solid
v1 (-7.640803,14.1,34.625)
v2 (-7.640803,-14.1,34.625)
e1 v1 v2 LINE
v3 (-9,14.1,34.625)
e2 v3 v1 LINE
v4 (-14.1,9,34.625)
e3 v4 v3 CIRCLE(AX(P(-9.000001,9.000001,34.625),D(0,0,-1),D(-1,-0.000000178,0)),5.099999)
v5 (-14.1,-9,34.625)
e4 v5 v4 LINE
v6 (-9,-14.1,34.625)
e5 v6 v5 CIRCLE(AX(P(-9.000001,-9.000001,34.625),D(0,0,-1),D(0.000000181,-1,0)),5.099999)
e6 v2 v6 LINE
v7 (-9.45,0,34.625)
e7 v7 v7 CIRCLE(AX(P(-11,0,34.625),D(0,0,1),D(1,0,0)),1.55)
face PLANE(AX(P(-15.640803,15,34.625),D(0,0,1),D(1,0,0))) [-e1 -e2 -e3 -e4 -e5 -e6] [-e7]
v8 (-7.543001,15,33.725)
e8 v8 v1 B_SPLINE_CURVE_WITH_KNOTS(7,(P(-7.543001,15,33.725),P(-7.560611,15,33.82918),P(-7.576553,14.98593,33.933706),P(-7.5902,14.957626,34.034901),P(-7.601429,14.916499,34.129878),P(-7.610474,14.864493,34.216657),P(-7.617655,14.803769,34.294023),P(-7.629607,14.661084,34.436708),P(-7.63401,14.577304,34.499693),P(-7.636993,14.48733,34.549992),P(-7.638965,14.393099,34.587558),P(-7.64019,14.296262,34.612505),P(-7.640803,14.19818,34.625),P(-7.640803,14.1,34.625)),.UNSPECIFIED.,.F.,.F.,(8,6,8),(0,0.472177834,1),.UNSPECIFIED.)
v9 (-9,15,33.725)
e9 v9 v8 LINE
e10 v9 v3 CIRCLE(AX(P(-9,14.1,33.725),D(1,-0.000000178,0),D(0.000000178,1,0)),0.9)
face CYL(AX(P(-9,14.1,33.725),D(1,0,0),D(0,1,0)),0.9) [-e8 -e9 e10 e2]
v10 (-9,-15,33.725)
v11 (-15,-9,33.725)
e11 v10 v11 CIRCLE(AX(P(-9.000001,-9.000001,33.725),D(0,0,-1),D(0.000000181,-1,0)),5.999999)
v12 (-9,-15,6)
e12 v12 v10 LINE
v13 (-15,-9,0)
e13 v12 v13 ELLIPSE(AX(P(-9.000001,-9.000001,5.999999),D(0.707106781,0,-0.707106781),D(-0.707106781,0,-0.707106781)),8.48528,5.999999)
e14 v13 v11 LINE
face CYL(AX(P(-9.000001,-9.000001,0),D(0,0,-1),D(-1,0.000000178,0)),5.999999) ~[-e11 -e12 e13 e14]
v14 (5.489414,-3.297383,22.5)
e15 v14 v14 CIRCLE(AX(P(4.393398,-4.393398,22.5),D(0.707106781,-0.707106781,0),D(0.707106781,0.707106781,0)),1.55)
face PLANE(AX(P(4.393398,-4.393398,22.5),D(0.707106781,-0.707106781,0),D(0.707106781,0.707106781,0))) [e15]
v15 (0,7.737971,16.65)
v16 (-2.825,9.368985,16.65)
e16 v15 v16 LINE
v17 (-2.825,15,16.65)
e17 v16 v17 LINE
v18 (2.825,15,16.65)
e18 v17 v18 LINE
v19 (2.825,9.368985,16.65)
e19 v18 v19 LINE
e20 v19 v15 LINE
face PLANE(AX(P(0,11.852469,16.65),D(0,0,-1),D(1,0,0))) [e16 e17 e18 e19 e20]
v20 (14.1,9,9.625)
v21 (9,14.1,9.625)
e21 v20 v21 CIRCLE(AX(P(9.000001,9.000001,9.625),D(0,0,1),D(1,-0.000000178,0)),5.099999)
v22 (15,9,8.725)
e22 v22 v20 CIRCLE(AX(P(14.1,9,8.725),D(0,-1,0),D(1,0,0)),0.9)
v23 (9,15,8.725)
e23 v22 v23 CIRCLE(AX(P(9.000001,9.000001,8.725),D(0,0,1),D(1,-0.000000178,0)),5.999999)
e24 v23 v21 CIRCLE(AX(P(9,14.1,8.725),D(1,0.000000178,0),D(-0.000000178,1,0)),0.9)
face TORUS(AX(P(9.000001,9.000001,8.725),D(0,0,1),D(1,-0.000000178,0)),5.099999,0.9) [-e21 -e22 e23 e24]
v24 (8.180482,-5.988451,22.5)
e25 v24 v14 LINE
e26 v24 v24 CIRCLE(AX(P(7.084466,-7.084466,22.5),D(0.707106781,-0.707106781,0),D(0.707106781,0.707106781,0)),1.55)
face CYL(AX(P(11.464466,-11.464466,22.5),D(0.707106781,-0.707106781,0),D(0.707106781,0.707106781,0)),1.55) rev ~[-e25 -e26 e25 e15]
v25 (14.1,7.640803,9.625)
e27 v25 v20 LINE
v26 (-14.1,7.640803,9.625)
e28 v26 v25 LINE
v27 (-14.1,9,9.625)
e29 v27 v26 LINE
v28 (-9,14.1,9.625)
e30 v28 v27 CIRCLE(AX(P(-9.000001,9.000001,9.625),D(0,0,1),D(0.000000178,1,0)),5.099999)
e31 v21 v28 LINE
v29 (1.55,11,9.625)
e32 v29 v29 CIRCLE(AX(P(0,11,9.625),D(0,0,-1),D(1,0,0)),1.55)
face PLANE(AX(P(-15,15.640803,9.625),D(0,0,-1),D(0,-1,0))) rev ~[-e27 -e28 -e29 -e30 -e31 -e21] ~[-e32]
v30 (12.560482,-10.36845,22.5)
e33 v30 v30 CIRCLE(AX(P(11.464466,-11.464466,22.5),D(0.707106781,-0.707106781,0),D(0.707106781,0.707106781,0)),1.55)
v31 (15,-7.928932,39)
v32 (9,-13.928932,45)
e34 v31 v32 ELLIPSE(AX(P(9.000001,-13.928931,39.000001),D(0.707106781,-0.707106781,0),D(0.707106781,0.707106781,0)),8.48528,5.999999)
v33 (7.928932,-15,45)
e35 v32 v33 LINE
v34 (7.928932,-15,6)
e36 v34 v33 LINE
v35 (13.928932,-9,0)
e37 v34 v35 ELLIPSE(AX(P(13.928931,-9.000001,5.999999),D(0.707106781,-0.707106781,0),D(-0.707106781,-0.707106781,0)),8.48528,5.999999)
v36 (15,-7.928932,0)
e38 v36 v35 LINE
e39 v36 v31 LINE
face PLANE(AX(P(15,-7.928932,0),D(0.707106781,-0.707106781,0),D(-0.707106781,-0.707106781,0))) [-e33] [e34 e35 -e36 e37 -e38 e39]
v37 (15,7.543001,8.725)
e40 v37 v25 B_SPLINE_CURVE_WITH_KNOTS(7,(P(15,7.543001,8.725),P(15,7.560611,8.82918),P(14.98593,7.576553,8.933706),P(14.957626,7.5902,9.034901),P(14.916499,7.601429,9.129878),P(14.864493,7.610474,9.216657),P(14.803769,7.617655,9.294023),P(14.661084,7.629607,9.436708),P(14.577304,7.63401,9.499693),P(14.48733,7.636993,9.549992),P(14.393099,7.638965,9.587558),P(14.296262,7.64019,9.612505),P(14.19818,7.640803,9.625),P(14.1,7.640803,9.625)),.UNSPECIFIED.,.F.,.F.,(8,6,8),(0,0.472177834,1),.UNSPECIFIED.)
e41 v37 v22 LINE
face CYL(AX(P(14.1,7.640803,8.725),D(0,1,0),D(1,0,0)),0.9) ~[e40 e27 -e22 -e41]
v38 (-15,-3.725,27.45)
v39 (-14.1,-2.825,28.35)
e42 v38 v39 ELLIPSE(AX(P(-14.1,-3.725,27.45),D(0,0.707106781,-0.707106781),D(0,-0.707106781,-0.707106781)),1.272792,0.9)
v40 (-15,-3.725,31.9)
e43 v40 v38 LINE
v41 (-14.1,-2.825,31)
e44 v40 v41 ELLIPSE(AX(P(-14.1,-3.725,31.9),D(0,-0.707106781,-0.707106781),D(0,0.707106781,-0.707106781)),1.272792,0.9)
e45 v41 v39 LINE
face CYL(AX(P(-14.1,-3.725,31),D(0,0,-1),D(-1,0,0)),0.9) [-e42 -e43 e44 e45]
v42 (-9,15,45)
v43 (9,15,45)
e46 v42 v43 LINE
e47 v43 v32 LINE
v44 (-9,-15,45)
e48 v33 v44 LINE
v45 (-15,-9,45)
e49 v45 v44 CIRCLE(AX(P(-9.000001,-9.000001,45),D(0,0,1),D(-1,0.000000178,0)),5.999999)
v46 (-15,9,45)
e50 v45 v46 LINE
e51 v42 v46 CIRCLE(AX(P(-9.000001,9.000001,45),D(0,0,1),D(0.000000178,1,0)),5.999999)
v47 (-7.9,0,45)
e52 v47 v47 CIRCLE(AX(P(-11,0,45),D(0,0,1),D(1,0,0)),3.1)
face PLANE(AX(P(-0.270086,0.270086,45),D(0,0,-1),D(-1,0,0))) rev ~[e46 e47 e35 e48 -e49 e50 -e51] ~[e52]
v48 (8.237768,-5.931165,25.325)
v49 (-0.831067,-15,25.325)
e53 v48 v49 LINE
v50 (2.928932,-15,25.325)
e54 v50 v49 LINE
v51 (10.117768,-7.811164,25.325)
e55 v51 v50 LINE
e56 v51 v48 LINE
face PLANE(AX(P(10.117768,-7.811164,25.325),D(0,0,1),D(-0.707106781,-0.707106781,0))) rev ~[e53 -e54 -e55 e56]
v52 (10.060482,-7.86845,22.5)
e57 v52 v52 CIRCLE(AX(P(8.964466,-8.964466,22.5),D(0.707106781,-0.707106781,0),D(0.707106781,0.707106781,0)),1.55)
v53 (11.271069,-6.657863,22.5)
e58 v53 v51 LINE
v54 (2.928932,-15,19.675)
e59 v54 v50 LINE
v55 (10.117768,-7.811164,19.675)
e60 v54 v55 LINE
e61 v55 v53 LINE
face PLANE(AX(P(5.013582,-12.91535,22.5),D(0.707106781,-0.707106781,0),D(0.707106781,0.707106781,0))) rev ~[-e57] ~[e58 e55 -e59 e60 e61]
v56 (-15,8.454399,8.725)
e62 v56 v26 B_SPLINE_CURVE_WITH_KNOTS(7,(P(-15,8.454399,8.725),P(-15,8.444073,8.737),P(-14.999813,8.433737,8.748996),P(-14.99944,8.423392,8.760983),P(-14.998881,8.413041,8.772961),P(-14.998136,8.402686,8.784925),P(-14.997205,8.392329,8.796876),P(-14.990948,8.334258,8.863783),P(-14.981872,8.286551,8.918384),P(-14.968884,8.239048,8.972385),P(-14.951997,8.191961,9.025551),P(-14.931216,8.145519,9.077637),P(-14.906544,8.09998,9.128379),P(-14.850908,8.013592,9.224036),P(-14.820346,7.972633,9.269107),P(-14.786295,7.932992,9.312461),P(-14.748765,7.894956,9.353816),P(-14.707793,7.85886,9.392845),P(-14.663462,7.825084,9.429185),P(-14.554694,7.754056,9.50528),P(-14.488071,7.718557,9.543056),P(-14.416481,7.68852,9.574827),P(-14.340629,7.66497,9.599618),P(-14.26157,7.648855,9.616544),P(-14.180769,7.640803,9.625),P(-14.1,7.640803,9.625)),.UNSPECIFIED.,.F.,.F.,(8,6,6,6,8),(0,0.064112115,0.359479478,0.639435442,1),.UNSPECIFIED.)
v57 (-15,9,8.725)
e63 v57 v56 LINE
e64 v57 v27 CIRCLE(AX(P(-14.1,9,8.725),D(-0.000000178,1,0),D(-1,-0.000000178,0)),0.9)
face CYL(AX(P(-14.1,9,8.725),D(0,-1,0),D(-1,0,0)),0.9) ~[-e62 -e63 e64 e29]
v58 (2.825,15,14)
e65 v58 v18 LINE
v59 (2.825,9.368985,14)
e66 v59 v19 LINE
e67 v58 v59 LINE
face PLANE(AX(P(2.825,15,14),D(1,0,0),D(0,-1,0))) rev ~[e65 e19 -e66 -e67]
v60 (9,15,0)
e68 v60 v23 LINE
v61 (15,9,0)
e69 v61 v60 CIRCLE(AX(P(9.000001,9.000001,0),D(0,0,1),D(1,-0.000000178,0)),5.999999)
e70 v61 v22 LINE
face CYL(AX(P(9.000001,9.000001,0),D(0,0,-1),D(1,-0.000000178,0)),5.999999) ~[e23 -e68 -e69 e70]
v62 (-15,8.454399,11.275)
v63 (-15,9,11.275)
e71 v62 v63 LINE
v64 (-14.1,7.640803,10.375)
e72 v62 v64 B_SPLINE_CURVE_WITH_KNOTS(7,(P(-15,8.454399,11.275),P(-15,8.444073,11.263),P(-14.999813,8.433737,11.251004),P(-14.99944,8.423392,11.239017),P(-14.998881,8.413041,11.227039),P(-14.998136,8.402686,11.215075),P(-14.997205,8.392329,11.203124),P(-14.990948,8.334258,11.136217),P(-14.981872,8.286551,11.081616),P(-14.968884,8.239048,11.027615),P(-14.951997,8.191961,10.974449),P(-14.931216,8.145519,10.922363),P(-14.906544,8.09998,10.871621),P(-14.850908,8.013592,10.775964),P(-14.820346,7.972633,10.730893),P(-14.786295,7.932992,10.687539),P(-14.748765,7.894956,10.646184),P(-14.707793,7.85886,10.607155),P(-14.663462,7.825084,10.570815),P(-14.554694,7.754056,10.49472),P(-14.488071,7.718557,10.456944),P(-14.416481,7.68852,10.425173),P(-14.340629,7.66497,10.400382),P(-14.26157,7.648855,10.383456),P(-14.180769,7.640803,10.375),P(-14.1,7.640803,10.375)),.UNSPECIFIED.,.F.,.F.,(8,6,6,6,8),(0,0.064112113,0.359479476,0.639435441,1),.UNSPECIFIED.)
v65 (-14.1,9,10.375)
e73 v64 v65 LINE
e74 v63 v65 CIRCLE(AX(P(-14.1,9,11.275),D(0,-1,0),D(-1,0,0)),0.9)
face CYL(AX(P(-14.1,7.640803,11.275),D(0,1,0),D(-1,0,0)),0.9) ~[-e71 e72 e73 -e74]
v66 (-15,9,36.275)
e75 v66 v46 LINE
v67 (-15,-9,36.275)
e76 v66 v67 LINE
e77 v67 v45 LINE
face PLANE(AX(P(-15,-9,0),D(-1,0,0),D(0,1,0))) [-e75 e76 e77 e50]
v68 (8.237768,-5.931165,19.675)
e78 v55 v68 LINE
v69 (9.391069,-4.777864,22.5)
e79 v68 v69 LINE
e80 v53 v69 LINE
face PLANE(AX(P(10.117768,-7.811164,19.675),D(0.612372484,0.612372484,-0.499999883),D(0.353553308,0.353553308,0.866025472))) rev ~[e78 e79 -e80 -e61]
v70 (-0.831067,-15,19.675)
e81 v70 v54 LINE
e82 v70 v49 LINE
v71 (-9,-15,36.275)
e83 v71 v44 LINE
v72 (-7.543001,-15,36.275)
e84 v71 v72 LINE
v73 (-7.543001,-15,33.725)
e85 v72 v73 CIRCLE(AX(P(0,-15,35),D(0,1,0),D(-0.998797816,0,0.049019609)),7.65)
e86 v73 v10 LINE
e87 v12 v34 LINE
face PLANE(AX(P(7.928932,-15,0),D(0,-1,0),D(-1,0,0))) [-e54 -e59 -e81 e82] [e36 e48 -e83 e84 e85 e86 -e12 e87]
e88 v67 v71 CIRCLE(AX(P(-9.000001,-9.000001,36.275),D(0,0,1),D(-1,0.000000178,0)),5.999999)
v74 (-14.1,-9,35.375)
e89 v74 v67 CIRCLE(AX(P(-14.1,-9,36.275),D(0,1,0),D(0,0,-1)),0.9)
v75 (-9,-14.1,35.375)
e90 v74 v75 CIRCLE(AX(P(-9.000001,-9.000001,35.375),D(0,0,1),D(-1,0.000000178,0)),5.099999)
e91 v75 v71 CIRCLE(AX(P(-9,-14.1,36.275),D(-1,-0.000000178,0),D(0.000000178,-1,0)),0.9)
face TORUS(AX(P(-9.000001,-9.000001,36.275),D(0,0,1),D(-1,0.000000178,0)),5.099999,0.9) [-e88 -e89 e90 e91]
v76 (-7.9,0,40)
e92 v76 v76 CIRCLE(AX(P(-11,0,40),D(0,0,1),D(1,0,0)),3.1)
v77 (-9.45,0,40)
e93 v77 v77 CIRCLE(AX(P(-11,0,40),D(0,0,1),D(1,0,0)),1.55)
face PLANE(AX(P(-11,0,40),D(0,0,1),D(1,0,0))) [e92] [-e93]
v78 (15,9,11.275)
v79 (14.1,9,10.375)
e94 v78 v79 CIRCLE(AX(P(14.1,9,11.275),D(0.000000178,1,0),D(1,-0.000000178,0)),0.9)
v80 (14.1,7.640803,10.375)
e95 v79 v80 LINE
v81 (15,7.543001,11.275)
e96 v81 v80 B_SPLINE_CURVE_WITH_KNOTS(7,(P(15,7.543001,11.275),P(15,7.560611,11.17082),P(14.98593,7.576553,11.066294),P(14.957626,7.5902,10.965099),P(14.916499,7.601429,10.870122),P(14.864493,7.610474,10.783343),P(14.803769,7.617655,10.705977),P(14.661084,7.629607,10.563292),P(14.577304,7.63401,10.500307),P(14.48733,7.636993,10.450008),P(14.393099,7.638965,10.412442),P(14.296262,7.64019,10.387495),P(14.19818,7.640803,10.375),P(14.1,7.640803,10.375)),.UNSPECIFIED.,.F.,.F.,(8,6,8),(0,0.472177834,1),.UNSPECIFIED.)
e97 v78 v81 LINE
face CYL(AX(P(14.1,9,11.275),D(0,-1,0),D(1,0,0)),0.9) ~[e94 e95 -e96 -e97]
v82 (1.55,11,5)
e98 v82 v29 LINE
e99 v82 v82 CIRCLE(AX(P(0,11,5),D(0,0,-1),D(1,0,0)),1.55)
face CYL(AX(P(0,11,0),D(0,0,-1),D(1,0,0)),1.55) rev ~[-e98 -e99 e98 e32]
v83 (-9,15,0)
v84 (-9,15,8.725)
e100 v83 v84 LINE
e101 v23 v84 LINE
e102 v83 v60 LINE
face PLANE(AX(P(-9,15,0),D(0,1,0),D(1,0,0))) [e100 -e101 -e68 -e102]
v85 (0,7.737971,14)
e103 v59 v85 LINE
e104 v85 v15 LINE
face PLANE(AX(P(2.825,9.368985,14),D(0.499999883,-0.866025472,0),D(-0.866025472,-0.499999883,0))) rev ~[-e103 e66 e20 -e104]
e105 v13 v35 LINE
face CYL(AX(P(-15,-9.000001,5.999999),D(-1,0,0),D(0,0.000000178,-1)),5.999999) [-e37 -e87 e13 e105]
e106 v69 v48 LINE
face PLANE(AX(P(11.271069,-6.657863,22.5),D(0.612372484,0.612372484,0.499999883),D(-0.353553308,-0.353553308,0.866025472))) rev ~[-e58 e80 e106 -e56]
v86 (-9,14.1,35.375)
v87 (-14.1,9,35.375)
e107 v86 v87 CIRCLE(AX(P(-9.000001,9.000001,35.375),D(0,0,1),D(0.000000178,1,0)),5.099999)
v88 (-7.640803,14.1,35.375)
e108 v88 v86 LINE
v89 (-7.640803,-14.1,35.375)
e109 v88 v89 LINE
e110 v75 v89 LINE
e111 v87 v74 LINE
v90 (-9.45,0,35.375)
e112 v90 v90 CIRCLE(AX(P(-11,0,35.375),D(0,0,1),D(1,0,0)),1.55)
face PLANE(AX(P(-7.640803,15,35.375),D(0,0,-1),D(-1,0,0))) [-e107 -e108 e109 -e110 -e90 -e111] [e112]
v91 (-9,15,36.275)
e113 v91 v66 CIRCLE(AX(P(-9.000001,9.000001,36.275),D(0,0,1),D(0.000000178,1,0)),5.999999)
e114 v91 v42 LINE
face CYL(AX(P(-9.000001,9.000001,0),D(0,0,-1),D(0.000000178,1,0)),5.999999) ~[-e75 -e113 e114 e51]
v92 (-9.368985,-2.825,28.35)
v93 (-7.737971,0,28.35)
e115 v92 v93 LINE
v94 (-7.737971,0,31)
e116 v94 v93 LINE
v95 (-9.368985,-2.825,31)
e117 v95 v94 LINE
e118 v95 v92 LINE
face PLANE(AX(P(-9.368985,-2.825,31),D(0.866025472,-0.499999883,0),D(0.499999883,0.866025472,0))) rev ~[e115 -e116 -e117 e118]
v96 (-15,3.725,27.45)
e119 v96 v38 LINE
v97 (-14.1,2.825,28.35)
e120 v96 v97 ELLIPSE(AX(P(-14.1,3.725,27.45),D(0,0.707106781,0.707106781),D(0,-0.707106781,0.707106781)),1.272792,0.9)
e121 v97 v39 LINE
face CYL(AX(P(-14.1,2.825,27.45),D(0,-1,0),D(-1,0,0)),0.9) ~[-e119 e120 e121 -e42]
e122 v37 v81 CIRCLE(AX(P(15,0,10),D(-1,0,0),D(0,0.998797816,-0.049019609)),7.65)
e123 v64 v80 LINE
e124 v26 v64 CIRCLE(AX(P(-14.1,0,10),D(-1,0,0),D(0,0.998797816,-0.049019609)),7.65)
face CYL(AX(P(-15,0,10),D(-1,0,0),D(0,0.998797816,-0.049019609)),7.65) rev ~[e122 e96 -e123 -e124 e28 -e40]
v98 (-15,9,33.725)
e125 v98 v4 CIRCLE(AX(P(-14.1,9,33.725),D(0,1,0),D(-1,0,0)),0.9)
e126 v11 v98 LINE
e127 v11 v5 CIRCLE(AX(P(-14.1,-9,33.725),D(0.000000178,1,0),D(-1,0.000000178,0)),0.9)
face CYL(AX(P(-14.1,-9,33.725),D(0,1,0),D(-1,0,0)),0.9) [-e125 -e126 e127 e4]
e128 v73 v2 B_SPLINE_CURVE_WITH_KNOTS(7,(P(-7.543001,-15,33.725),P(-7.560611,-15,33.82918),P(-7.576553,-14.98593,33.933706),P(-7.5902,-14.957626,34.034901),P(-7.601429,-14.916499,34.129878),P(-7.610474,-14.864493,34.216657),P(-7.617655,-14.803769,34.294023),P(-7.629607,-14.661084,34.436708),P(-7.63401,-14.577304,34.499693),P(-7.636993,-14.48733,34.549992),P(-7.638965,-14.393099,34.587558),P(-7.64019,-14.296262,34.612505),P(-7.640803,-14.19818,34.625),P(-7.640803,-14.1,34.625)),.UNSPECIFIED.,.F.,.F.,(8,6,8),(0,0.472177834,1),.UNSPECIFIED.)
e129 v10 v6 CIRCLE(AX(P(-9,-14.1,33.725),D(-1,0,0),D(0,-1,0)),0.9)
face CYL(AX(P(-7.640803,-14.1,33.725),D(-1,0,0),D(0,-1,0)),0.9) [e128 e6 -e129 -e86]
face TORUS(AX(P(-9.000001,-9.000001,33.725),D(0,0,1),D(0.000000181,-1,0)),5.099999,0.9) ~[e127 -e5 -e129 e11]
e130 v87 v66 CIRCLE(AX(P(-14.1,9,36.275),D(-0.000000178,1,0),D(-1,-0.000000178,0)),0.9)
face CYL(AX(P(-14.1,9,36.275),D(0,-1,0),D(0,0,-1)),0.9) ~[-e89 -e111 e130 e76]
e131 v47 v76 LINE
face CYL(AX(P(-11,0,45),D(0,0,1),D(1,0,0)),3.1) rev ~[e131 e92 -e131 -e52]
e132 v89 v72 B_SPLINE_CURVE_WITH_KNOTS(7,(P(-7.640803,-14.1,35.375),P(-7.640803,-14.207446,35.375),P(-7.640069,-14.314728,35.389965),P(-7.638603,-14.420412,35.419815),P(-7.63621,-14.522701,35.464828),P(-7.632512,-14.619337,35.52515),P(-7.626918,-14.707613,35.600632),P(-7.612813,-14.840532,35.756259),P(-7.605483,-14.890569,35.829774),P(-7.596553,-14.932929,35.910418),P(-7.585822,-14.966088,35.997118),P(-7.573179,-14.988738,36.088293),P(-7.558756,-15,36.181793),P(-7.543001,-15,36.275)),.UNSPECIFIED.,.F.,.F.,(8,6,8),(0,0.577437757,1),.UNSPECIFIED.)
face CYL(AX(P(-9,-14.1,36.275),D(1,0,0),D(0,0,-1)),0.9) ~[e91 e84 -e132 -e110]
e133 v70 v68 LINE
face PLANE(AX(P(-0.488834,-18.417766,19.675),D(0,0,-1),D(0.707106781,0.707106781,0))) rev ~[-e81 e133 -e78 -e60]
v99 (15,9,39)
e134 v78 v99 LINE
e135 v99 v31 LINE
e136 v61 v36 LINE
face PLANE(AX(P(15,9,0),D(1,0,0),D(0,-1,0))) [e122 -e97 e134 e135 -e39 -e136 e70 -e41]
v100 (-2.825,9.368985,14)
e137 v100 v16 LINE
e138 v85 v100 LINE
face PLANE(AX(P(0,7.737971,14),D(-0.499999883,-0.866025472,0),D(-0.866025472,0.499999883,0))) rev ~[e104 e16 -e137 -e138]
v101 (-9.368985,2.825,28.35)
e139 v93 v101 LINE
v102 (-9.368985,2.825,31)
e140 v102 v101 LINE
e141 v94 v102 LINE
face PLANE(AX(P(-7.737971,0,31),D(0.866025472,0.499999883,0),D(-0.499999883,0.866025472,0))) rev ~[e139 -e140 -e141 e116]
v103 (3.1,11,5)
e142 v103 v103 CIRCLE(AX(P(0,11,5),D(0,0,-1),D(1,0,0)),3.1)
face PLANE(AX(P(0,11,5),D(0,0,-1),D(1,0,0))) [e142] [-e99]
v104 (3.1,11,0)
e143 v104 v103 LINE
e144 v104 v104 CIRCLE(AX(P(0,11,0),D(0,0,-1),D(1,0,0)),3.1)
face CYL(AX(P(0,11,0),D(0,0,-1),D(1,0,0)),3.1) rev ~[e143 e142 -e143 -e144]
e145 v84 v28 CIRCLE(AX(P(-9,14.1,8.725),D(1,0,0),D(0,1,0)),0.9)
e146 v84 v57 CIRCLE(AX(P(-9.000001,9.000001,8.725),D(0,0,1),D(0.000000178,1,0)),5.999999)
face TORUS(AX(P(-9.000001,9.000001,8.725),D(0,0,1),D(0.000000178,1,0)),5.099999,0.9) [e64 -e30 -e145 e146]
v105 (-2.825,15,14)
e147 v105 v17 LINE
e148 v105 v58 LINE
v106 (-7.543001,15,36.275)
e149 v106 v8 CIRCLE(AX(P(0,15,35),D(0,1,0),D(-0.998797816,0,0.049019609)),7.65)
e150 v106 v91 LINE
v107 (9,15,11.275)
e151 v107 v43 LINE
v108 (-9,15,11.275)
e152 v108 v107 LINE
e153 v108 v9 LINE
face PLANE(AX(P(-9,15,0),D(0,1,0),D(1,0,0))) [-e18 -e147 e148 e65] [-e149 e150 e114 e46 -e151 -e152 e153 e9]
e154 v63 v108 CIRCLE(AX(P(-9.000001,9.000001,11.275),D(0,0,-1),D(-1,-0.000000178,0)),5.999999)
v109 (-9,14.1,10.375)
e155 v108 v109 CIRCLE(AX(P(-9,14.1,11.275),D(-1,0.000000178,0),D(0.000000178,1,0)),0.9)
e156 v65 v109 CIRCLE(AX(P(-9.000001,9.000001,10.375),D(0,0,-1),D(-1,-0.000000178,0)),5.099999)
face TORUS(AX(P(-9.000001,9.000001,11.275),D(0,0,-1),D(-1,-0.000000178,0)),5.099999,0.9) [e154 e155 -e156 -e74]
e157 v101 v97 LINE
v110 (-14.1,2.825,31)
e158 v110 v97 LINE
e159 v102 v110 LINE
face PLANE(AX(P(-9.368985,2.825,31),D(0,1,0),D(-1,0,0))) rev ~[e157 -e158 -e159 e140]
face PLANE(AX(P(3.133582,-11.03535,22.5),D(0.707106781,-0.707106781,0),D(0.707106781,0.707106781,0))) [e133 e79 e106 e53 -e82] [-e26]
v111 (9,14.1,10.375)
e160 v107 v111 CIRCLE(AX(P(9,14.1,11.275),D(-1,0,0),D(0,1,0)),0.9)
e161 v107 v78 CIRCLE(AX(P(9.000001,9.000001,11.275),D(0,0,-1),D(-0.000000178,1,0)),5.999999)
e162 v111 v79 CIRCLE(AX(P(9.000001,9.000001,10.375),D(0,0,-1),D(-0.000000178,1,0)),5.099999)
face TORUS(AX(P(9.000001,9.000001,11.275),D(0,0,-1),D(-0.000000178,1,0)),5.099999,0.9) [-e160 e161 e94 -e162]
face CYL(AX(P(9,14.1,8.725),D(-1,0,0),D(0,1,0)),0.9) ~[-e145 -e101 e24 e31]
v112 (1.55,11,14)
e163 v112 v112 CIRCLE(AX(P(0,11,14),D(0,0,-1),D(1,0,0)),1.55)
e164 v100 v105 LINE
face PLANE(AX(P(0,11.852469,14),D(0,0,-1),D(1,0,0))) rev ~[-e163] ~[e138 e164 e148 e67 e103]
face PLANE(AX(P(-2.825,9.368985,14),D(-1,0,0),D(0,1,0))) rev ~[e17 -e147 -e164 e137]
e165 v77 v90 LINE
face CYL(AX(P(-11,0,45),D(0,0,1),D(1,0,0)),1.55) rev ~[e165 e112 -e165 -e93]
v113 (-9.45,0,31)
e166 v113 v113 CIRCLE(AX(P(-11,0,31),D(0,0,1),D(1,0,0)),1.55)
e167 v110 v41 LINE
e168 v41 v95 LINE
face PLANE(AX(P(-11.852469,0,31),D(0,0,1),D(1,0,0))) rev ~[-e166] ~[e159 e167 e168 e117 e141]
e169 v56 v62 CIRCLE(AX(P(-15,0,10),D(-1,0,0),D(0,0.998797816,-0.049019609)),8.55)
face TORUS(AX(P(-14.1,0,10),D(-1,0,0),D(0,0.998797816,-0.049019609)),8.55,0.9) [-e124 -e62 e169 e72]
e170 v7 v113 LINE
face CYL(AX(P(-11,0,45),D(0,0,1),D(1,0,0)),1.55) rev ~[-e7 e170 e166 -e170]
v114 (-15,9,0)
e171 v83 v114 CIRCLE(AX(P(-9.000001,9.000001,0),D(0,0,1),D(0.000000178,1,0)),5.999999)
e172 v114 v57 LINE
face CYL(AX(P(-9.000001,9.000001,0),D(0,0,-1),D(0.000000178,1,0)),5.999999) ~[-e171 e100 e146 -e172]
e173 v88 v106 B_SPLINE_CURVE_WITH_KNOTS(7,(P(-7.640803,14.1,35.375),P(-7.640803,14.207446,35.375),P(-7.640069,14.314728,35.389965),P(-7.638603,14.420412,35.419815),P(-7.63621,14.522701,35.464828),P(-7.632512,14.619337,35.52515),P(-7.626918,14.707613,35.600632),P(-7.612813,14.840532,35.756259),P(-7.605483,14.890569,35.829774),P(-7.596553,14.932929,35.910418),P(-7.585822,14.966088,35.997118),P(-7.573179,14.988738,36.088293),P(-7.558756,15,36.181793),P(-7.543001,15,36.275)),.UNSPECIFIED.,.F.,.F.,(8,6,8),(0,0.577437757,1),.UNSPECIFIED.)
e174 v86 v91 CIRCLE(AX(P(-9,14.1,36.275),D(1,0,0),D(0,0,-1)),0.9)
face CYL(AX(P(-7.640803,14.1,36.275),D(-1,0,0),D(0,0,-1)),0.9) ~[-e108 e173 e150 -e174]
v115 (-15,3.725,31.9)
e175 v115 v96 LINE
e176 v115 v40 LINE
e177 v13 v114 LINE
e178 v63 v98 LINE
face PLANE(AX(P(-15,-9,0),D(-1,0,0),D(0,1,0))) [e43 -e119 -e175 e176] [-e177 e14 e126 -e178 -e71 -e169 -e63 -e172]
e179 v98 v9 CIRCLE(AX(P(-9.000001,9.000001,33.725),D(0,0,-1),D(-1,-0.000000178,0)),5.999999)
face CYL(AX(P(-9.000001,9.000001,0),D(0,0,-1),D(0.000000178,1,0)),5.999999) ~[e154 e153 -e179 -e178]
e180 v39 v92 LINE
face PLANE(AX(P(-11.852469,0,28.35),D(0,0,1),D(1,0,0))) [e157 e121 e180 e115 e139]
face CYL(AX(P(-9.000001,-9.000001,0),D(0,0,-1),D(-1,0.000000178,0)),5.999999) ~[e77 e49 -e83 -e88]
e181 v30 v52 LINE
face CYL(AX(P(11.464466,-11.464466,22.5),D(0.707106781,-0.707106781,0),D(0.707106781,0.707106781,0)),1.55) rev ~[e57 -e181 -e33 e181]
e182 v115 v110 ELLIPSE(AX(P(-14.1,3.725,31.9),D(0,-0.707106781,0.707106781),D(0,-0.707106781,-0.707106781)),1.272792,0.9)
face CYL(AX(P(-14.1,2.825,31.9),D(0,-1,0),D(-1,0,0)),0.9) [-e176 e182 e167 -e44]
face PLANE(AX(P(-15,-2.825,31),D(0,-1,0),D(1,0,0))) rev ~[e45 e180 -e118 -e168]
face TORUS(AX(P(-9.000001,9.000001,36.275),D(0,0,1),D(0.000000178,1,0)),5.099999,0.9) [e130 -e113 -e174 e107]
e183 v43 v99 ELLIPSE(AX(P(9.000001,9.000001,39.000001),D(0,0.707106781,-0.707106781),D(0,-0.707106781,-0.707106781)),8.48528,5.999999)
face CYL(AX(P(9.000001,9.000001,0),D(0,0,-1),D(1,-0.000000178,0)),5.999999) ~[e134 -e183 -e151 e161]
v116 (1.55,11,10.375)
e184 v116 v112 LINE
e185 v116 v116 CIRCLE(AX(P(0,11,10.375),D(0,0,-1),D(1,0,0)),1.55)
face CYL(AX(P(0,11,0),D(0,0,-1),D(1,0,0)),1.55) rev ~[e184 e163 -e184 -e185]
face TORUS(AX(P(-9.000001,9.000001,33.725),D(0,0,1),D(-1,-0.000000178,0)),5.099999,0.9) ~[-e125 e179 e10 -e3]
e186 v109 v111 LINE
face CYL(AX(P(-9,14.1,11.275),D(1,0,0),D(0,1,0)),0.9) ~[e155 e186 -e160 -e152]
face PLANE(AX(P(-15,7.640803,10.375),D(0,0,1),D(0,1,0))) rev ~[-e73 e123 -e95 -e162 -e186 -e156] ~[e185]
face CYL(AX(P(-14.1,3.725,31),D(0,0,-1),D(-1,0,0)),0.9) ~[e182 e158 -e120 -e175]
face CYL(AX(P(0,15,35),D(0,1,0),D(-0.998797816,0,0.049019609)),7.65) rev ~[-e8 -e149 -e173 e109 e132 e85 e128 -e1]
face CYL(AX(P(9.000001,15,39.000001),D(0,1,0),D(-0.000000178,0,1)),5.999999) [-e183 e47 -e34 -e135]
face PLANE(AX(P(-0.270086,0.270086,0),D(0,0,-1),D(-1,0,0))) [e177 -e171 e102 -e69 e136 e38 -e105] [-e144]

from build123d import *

# Parameters (mm, degrees)
EXTRUDE003_DEPTH                          = 2.658721
EXTRUDE003_ONTO_SKETCH010_ROLL_ANGLE      = 90
EXTRUDE003_ONTO_SKETCH010_PLACEMENT_ANGLE = 45
EXTRUDE002_DEPTH                          = 2.65
EXTRUDE001_DEPTH                          = 2.65
EXTRUDE_DEPTH                             = 45
POCKET_DEPTH                              = 30.001
POCKET001_DEPTH                           = 30.001019
SKETCH003_R                               = 1.55
POCKET002_DEPTH                           = 16
SKETCH005_R                               = 3.1
POCKET003_DEPTH                           = 5
SKETCH006_R                               = 1.55
POCKET004_DEPTH                           = 16
SKETCH008_R                               = 3.1
POCKET005_DEPTH                           = 5
SKETCH009_R                               = 1.55
POCKET006_DEPTH                           = 10
FILLET_R                                  = 0.9


with BuildPart() as extrude003:
    # Sketch010 as drawn → Extrude003 (new)
    with BuildSketch(Plane.XY):
        Polygon((3.262029, 22.5), (1.631015, 25.325), (-13.368985, 25.325), (-13.368985, 19.675), (1.631015, 19.675), align=None)
    extrude(amount=-EXTRUDE003_DEPTH)


with BuildPart() as extrude003_1:
    # Extrude003 onto Sketch010 roll: moved
    add(extrude003.part.rotate(Axis((0, 0, 0), (1, 0, 0)), EXTRUDE003_ONTO_SKETCH010_ROLL_ANGLE))


with BuildPart() as extrude003_2:
    # Extrude003 onto Sketch010 placement: moved
    add(extrude003_1.part.moved(Location((11.464466, -11.464466, 0))).rotate(Axis((11.464466, -11.464466, 0), (0, 0, 1)), EXTRUDE003_ONTO_SKETCH010_PLACEMENT_ANGLE))


with BuildPart() as extrude003_3:
    # Extrude003 placement: moved
    add(extrude003_2.part.moved(Location((-2.5, 2.5, 0))))


with BuildPart() as extrude002:
    # Sketch007 → Extrude002 (new body)
    with BuildSketch(Plane(origin=(0, 0, 0), x_dir=(1, 0, 0), z_dir=(0, 0, -1))):
        Polygon((0, -7.737971), (-2.825, -9.368985), (-2.825, -15), (2.825, -15), (2.825, -9.368985), align=None)
    extrude(amount=-EXTRUDE002_DEPTH)


with BuildPart() as extrude002_1:
    # Extrude002 placement: moved
    add(extrude002.part.moved(Location((0, 0, 14))))


with BuildPart() as extrude001:
    # Sketch004 → Extrude001 (new body)
    with BuildSketch(Plane.XY.offset(45)):
        Polygon((-7.737971, 0), (-9.368985, 2.825), (-15, 2.825), (-15, -2.825), (-9.368985, -2.825), align=None)
    extrude(amount=-EXTRUDE001_DEPTH)


with BuildPart() as extrude001_1:
    # Extrude001 placement: moved
    add(extrude001.part.moved(Location((0, 0, -14))))


with BuildPart() as fillet_body:
    # Sketch → Extrude (new body)
    with BuildSketch(Plane.XY):
        with BuildLine():
            Line((15, -7.928932), (7.928932, -15))
            Line((7.928932, -15), (-9, -15))
            ThreePointArc((-15, -9), (-13.242641, -13.242641), (-9, -15))
            Line((-15, -9), (-15, 9))
            ThreePointArc((-9, 15), (-13.242641, 13.242641), (-15, 9))
            Line((-9, 15), (9, 15))
            ThreePointArc((15, 9), (13.242641, 13.242641), (9, 15))
            Line((15, 9), (15, -7.928932))
        make_face()
    extrude(amount=EXTRUDE_DEPTH)

    # Sketch001 → Pocket (cut, through all)
    with BuildSketch(Plane(origin=(-15, 0, 0), x_dir=(0, -1, 0), z_dir=(-1, 0, 0))):
        with BuildLine():
            Line((9, 0), (15, 0))
            Line((15, 0), (15, 6))
            ThreePointArc((9, 0), (13.242641, 1.757359), (15, 6))
        make_face()
        with BuildLine():
            ThreePointArc((-7.640803, 9.625), (7.65, 10), (-7.640803, 10.375))
            Line((-7.640803, 10.375), (-15.640803, 10.375))
            Line((-15.640803, 10.375), (-15.640803, 9.625))
            Line((-15.640803, 9.625), (-7.640803, 9.625))
        make_face()
    extrude(amount=-POCKET_DEPTH, mode=Mode.SUBTRACT)

    # Sketch002 → Pocket001 (cut, through all)
    with BuildSketch(Plane(origin=(0, 15, 0), x_dir=(-1, 0, 0), z_dir=(0, 1, 0))):
        with BuildLine():
            ThreePointArc((-9, 45), (-13.242641, 43.242641), (-15, 39))
            Line((-15, 39), (-15, 45))
            Line((-15, 45), (-9, 45))
        make_face()
        with BuildLine():
            ThreePointArc((7.640803, 35.375), (-7.65, 35), (7.640803, 34.625))
            Line((15.640803, 34.625), (7.640803, 34.625))
            Line((15.640803, 35.375), (15.640803, 34.625))
            Line((7.640803, 35.375), (15.640803, 35.375))
        make_face()
    extrude(amount=-POCKET001_DEPTH, mode=Mode.SUBTRACT)

    # Sketch003 → Pocket002 (cut)
    with BuildSketch(Plane.XY.offset(45)):
        with Locations((-11, 0)):
            Circle(SKETCH003_R)
    extrude(amount=-POCKET002_DEPTH, mode=Mode.SUBTRACT)

    # Cut: cut Extrude001
    add(extrude001_1.part, mode=Mode.SUBTRACT)

    # Sketch005 → Pocket003 (cut)
    with BuildSketch(Plane.XY.offset(45)):
        with Locations((-11, 0)):
            Circle(SKETCH005_R)
    extrude(amount=-POCKET003_DEPTH, mode=Mode.SUBTRACT)

    # Sketch006 → Pocket004 (cut)
    with BuildSketch(Plane(origin=(0, 0, 0), x_dir=(1, 0, 0), z_dir=(0, 0, -1))):
        with Locations((0, -11)):
            Circle(SKETCH006_R)
    extrude(amount=-POCKET004_DEPTH, mode=Mode.SUBTRACT)

    # Cut001: cut Extrude002
    add(extrude002_1.part, mode=Mode.SUBTRACT)

    # Sketch008 → Pocket005 (cut)
    with BuildSketch(Plane(origin=(0, 0, 0), x_dir=(1, 0, 0), z_dir=(0, 0, -1))):
        with Locations((0, -11)):
            Circle(SKETCH008_R)
    extrude(amount=-POCKET005_DEPTH, mode=Mode.SUBTRACT)

    # Sketch009 → Pocket006 (cut)
    with BuildSketch(Plane(origin=(11.464466, -11.464466, 0), x_dir=(0.707107, 0.707107, 0), z_dir=(0.707107, -0.707107, 0))):
        with Locations((0, 22.5)):
            Circle(SKETCH009_R)
    extrude(amount=-POCKET006_DEPTH, mode=Mode.SUBTRACT)

    # Cut002: cut Extrude003
    add(extrude003_3.part, mode=Mode.SUBTRACT)

    # Fillet
    fillet_edges = [fillet_body.edges().sort_by_distance(p)[0] for p in [
        (-15, 8.320402, 10.375),
        (-15, -7.65, 10),
        (-15, 8.320402, 9.625),
        (-15, 0, 34.625),
        (-15, 0, 28.35),
        (-15, -2.825, 29.675),
        (-15, 0, 31),
        (-15, 2.825, 29.675),
        (-15, 0, 35.375),
    ]]
    fillet(fillet_edges, radius=FILLET_R)


solid = fillet_body.part
